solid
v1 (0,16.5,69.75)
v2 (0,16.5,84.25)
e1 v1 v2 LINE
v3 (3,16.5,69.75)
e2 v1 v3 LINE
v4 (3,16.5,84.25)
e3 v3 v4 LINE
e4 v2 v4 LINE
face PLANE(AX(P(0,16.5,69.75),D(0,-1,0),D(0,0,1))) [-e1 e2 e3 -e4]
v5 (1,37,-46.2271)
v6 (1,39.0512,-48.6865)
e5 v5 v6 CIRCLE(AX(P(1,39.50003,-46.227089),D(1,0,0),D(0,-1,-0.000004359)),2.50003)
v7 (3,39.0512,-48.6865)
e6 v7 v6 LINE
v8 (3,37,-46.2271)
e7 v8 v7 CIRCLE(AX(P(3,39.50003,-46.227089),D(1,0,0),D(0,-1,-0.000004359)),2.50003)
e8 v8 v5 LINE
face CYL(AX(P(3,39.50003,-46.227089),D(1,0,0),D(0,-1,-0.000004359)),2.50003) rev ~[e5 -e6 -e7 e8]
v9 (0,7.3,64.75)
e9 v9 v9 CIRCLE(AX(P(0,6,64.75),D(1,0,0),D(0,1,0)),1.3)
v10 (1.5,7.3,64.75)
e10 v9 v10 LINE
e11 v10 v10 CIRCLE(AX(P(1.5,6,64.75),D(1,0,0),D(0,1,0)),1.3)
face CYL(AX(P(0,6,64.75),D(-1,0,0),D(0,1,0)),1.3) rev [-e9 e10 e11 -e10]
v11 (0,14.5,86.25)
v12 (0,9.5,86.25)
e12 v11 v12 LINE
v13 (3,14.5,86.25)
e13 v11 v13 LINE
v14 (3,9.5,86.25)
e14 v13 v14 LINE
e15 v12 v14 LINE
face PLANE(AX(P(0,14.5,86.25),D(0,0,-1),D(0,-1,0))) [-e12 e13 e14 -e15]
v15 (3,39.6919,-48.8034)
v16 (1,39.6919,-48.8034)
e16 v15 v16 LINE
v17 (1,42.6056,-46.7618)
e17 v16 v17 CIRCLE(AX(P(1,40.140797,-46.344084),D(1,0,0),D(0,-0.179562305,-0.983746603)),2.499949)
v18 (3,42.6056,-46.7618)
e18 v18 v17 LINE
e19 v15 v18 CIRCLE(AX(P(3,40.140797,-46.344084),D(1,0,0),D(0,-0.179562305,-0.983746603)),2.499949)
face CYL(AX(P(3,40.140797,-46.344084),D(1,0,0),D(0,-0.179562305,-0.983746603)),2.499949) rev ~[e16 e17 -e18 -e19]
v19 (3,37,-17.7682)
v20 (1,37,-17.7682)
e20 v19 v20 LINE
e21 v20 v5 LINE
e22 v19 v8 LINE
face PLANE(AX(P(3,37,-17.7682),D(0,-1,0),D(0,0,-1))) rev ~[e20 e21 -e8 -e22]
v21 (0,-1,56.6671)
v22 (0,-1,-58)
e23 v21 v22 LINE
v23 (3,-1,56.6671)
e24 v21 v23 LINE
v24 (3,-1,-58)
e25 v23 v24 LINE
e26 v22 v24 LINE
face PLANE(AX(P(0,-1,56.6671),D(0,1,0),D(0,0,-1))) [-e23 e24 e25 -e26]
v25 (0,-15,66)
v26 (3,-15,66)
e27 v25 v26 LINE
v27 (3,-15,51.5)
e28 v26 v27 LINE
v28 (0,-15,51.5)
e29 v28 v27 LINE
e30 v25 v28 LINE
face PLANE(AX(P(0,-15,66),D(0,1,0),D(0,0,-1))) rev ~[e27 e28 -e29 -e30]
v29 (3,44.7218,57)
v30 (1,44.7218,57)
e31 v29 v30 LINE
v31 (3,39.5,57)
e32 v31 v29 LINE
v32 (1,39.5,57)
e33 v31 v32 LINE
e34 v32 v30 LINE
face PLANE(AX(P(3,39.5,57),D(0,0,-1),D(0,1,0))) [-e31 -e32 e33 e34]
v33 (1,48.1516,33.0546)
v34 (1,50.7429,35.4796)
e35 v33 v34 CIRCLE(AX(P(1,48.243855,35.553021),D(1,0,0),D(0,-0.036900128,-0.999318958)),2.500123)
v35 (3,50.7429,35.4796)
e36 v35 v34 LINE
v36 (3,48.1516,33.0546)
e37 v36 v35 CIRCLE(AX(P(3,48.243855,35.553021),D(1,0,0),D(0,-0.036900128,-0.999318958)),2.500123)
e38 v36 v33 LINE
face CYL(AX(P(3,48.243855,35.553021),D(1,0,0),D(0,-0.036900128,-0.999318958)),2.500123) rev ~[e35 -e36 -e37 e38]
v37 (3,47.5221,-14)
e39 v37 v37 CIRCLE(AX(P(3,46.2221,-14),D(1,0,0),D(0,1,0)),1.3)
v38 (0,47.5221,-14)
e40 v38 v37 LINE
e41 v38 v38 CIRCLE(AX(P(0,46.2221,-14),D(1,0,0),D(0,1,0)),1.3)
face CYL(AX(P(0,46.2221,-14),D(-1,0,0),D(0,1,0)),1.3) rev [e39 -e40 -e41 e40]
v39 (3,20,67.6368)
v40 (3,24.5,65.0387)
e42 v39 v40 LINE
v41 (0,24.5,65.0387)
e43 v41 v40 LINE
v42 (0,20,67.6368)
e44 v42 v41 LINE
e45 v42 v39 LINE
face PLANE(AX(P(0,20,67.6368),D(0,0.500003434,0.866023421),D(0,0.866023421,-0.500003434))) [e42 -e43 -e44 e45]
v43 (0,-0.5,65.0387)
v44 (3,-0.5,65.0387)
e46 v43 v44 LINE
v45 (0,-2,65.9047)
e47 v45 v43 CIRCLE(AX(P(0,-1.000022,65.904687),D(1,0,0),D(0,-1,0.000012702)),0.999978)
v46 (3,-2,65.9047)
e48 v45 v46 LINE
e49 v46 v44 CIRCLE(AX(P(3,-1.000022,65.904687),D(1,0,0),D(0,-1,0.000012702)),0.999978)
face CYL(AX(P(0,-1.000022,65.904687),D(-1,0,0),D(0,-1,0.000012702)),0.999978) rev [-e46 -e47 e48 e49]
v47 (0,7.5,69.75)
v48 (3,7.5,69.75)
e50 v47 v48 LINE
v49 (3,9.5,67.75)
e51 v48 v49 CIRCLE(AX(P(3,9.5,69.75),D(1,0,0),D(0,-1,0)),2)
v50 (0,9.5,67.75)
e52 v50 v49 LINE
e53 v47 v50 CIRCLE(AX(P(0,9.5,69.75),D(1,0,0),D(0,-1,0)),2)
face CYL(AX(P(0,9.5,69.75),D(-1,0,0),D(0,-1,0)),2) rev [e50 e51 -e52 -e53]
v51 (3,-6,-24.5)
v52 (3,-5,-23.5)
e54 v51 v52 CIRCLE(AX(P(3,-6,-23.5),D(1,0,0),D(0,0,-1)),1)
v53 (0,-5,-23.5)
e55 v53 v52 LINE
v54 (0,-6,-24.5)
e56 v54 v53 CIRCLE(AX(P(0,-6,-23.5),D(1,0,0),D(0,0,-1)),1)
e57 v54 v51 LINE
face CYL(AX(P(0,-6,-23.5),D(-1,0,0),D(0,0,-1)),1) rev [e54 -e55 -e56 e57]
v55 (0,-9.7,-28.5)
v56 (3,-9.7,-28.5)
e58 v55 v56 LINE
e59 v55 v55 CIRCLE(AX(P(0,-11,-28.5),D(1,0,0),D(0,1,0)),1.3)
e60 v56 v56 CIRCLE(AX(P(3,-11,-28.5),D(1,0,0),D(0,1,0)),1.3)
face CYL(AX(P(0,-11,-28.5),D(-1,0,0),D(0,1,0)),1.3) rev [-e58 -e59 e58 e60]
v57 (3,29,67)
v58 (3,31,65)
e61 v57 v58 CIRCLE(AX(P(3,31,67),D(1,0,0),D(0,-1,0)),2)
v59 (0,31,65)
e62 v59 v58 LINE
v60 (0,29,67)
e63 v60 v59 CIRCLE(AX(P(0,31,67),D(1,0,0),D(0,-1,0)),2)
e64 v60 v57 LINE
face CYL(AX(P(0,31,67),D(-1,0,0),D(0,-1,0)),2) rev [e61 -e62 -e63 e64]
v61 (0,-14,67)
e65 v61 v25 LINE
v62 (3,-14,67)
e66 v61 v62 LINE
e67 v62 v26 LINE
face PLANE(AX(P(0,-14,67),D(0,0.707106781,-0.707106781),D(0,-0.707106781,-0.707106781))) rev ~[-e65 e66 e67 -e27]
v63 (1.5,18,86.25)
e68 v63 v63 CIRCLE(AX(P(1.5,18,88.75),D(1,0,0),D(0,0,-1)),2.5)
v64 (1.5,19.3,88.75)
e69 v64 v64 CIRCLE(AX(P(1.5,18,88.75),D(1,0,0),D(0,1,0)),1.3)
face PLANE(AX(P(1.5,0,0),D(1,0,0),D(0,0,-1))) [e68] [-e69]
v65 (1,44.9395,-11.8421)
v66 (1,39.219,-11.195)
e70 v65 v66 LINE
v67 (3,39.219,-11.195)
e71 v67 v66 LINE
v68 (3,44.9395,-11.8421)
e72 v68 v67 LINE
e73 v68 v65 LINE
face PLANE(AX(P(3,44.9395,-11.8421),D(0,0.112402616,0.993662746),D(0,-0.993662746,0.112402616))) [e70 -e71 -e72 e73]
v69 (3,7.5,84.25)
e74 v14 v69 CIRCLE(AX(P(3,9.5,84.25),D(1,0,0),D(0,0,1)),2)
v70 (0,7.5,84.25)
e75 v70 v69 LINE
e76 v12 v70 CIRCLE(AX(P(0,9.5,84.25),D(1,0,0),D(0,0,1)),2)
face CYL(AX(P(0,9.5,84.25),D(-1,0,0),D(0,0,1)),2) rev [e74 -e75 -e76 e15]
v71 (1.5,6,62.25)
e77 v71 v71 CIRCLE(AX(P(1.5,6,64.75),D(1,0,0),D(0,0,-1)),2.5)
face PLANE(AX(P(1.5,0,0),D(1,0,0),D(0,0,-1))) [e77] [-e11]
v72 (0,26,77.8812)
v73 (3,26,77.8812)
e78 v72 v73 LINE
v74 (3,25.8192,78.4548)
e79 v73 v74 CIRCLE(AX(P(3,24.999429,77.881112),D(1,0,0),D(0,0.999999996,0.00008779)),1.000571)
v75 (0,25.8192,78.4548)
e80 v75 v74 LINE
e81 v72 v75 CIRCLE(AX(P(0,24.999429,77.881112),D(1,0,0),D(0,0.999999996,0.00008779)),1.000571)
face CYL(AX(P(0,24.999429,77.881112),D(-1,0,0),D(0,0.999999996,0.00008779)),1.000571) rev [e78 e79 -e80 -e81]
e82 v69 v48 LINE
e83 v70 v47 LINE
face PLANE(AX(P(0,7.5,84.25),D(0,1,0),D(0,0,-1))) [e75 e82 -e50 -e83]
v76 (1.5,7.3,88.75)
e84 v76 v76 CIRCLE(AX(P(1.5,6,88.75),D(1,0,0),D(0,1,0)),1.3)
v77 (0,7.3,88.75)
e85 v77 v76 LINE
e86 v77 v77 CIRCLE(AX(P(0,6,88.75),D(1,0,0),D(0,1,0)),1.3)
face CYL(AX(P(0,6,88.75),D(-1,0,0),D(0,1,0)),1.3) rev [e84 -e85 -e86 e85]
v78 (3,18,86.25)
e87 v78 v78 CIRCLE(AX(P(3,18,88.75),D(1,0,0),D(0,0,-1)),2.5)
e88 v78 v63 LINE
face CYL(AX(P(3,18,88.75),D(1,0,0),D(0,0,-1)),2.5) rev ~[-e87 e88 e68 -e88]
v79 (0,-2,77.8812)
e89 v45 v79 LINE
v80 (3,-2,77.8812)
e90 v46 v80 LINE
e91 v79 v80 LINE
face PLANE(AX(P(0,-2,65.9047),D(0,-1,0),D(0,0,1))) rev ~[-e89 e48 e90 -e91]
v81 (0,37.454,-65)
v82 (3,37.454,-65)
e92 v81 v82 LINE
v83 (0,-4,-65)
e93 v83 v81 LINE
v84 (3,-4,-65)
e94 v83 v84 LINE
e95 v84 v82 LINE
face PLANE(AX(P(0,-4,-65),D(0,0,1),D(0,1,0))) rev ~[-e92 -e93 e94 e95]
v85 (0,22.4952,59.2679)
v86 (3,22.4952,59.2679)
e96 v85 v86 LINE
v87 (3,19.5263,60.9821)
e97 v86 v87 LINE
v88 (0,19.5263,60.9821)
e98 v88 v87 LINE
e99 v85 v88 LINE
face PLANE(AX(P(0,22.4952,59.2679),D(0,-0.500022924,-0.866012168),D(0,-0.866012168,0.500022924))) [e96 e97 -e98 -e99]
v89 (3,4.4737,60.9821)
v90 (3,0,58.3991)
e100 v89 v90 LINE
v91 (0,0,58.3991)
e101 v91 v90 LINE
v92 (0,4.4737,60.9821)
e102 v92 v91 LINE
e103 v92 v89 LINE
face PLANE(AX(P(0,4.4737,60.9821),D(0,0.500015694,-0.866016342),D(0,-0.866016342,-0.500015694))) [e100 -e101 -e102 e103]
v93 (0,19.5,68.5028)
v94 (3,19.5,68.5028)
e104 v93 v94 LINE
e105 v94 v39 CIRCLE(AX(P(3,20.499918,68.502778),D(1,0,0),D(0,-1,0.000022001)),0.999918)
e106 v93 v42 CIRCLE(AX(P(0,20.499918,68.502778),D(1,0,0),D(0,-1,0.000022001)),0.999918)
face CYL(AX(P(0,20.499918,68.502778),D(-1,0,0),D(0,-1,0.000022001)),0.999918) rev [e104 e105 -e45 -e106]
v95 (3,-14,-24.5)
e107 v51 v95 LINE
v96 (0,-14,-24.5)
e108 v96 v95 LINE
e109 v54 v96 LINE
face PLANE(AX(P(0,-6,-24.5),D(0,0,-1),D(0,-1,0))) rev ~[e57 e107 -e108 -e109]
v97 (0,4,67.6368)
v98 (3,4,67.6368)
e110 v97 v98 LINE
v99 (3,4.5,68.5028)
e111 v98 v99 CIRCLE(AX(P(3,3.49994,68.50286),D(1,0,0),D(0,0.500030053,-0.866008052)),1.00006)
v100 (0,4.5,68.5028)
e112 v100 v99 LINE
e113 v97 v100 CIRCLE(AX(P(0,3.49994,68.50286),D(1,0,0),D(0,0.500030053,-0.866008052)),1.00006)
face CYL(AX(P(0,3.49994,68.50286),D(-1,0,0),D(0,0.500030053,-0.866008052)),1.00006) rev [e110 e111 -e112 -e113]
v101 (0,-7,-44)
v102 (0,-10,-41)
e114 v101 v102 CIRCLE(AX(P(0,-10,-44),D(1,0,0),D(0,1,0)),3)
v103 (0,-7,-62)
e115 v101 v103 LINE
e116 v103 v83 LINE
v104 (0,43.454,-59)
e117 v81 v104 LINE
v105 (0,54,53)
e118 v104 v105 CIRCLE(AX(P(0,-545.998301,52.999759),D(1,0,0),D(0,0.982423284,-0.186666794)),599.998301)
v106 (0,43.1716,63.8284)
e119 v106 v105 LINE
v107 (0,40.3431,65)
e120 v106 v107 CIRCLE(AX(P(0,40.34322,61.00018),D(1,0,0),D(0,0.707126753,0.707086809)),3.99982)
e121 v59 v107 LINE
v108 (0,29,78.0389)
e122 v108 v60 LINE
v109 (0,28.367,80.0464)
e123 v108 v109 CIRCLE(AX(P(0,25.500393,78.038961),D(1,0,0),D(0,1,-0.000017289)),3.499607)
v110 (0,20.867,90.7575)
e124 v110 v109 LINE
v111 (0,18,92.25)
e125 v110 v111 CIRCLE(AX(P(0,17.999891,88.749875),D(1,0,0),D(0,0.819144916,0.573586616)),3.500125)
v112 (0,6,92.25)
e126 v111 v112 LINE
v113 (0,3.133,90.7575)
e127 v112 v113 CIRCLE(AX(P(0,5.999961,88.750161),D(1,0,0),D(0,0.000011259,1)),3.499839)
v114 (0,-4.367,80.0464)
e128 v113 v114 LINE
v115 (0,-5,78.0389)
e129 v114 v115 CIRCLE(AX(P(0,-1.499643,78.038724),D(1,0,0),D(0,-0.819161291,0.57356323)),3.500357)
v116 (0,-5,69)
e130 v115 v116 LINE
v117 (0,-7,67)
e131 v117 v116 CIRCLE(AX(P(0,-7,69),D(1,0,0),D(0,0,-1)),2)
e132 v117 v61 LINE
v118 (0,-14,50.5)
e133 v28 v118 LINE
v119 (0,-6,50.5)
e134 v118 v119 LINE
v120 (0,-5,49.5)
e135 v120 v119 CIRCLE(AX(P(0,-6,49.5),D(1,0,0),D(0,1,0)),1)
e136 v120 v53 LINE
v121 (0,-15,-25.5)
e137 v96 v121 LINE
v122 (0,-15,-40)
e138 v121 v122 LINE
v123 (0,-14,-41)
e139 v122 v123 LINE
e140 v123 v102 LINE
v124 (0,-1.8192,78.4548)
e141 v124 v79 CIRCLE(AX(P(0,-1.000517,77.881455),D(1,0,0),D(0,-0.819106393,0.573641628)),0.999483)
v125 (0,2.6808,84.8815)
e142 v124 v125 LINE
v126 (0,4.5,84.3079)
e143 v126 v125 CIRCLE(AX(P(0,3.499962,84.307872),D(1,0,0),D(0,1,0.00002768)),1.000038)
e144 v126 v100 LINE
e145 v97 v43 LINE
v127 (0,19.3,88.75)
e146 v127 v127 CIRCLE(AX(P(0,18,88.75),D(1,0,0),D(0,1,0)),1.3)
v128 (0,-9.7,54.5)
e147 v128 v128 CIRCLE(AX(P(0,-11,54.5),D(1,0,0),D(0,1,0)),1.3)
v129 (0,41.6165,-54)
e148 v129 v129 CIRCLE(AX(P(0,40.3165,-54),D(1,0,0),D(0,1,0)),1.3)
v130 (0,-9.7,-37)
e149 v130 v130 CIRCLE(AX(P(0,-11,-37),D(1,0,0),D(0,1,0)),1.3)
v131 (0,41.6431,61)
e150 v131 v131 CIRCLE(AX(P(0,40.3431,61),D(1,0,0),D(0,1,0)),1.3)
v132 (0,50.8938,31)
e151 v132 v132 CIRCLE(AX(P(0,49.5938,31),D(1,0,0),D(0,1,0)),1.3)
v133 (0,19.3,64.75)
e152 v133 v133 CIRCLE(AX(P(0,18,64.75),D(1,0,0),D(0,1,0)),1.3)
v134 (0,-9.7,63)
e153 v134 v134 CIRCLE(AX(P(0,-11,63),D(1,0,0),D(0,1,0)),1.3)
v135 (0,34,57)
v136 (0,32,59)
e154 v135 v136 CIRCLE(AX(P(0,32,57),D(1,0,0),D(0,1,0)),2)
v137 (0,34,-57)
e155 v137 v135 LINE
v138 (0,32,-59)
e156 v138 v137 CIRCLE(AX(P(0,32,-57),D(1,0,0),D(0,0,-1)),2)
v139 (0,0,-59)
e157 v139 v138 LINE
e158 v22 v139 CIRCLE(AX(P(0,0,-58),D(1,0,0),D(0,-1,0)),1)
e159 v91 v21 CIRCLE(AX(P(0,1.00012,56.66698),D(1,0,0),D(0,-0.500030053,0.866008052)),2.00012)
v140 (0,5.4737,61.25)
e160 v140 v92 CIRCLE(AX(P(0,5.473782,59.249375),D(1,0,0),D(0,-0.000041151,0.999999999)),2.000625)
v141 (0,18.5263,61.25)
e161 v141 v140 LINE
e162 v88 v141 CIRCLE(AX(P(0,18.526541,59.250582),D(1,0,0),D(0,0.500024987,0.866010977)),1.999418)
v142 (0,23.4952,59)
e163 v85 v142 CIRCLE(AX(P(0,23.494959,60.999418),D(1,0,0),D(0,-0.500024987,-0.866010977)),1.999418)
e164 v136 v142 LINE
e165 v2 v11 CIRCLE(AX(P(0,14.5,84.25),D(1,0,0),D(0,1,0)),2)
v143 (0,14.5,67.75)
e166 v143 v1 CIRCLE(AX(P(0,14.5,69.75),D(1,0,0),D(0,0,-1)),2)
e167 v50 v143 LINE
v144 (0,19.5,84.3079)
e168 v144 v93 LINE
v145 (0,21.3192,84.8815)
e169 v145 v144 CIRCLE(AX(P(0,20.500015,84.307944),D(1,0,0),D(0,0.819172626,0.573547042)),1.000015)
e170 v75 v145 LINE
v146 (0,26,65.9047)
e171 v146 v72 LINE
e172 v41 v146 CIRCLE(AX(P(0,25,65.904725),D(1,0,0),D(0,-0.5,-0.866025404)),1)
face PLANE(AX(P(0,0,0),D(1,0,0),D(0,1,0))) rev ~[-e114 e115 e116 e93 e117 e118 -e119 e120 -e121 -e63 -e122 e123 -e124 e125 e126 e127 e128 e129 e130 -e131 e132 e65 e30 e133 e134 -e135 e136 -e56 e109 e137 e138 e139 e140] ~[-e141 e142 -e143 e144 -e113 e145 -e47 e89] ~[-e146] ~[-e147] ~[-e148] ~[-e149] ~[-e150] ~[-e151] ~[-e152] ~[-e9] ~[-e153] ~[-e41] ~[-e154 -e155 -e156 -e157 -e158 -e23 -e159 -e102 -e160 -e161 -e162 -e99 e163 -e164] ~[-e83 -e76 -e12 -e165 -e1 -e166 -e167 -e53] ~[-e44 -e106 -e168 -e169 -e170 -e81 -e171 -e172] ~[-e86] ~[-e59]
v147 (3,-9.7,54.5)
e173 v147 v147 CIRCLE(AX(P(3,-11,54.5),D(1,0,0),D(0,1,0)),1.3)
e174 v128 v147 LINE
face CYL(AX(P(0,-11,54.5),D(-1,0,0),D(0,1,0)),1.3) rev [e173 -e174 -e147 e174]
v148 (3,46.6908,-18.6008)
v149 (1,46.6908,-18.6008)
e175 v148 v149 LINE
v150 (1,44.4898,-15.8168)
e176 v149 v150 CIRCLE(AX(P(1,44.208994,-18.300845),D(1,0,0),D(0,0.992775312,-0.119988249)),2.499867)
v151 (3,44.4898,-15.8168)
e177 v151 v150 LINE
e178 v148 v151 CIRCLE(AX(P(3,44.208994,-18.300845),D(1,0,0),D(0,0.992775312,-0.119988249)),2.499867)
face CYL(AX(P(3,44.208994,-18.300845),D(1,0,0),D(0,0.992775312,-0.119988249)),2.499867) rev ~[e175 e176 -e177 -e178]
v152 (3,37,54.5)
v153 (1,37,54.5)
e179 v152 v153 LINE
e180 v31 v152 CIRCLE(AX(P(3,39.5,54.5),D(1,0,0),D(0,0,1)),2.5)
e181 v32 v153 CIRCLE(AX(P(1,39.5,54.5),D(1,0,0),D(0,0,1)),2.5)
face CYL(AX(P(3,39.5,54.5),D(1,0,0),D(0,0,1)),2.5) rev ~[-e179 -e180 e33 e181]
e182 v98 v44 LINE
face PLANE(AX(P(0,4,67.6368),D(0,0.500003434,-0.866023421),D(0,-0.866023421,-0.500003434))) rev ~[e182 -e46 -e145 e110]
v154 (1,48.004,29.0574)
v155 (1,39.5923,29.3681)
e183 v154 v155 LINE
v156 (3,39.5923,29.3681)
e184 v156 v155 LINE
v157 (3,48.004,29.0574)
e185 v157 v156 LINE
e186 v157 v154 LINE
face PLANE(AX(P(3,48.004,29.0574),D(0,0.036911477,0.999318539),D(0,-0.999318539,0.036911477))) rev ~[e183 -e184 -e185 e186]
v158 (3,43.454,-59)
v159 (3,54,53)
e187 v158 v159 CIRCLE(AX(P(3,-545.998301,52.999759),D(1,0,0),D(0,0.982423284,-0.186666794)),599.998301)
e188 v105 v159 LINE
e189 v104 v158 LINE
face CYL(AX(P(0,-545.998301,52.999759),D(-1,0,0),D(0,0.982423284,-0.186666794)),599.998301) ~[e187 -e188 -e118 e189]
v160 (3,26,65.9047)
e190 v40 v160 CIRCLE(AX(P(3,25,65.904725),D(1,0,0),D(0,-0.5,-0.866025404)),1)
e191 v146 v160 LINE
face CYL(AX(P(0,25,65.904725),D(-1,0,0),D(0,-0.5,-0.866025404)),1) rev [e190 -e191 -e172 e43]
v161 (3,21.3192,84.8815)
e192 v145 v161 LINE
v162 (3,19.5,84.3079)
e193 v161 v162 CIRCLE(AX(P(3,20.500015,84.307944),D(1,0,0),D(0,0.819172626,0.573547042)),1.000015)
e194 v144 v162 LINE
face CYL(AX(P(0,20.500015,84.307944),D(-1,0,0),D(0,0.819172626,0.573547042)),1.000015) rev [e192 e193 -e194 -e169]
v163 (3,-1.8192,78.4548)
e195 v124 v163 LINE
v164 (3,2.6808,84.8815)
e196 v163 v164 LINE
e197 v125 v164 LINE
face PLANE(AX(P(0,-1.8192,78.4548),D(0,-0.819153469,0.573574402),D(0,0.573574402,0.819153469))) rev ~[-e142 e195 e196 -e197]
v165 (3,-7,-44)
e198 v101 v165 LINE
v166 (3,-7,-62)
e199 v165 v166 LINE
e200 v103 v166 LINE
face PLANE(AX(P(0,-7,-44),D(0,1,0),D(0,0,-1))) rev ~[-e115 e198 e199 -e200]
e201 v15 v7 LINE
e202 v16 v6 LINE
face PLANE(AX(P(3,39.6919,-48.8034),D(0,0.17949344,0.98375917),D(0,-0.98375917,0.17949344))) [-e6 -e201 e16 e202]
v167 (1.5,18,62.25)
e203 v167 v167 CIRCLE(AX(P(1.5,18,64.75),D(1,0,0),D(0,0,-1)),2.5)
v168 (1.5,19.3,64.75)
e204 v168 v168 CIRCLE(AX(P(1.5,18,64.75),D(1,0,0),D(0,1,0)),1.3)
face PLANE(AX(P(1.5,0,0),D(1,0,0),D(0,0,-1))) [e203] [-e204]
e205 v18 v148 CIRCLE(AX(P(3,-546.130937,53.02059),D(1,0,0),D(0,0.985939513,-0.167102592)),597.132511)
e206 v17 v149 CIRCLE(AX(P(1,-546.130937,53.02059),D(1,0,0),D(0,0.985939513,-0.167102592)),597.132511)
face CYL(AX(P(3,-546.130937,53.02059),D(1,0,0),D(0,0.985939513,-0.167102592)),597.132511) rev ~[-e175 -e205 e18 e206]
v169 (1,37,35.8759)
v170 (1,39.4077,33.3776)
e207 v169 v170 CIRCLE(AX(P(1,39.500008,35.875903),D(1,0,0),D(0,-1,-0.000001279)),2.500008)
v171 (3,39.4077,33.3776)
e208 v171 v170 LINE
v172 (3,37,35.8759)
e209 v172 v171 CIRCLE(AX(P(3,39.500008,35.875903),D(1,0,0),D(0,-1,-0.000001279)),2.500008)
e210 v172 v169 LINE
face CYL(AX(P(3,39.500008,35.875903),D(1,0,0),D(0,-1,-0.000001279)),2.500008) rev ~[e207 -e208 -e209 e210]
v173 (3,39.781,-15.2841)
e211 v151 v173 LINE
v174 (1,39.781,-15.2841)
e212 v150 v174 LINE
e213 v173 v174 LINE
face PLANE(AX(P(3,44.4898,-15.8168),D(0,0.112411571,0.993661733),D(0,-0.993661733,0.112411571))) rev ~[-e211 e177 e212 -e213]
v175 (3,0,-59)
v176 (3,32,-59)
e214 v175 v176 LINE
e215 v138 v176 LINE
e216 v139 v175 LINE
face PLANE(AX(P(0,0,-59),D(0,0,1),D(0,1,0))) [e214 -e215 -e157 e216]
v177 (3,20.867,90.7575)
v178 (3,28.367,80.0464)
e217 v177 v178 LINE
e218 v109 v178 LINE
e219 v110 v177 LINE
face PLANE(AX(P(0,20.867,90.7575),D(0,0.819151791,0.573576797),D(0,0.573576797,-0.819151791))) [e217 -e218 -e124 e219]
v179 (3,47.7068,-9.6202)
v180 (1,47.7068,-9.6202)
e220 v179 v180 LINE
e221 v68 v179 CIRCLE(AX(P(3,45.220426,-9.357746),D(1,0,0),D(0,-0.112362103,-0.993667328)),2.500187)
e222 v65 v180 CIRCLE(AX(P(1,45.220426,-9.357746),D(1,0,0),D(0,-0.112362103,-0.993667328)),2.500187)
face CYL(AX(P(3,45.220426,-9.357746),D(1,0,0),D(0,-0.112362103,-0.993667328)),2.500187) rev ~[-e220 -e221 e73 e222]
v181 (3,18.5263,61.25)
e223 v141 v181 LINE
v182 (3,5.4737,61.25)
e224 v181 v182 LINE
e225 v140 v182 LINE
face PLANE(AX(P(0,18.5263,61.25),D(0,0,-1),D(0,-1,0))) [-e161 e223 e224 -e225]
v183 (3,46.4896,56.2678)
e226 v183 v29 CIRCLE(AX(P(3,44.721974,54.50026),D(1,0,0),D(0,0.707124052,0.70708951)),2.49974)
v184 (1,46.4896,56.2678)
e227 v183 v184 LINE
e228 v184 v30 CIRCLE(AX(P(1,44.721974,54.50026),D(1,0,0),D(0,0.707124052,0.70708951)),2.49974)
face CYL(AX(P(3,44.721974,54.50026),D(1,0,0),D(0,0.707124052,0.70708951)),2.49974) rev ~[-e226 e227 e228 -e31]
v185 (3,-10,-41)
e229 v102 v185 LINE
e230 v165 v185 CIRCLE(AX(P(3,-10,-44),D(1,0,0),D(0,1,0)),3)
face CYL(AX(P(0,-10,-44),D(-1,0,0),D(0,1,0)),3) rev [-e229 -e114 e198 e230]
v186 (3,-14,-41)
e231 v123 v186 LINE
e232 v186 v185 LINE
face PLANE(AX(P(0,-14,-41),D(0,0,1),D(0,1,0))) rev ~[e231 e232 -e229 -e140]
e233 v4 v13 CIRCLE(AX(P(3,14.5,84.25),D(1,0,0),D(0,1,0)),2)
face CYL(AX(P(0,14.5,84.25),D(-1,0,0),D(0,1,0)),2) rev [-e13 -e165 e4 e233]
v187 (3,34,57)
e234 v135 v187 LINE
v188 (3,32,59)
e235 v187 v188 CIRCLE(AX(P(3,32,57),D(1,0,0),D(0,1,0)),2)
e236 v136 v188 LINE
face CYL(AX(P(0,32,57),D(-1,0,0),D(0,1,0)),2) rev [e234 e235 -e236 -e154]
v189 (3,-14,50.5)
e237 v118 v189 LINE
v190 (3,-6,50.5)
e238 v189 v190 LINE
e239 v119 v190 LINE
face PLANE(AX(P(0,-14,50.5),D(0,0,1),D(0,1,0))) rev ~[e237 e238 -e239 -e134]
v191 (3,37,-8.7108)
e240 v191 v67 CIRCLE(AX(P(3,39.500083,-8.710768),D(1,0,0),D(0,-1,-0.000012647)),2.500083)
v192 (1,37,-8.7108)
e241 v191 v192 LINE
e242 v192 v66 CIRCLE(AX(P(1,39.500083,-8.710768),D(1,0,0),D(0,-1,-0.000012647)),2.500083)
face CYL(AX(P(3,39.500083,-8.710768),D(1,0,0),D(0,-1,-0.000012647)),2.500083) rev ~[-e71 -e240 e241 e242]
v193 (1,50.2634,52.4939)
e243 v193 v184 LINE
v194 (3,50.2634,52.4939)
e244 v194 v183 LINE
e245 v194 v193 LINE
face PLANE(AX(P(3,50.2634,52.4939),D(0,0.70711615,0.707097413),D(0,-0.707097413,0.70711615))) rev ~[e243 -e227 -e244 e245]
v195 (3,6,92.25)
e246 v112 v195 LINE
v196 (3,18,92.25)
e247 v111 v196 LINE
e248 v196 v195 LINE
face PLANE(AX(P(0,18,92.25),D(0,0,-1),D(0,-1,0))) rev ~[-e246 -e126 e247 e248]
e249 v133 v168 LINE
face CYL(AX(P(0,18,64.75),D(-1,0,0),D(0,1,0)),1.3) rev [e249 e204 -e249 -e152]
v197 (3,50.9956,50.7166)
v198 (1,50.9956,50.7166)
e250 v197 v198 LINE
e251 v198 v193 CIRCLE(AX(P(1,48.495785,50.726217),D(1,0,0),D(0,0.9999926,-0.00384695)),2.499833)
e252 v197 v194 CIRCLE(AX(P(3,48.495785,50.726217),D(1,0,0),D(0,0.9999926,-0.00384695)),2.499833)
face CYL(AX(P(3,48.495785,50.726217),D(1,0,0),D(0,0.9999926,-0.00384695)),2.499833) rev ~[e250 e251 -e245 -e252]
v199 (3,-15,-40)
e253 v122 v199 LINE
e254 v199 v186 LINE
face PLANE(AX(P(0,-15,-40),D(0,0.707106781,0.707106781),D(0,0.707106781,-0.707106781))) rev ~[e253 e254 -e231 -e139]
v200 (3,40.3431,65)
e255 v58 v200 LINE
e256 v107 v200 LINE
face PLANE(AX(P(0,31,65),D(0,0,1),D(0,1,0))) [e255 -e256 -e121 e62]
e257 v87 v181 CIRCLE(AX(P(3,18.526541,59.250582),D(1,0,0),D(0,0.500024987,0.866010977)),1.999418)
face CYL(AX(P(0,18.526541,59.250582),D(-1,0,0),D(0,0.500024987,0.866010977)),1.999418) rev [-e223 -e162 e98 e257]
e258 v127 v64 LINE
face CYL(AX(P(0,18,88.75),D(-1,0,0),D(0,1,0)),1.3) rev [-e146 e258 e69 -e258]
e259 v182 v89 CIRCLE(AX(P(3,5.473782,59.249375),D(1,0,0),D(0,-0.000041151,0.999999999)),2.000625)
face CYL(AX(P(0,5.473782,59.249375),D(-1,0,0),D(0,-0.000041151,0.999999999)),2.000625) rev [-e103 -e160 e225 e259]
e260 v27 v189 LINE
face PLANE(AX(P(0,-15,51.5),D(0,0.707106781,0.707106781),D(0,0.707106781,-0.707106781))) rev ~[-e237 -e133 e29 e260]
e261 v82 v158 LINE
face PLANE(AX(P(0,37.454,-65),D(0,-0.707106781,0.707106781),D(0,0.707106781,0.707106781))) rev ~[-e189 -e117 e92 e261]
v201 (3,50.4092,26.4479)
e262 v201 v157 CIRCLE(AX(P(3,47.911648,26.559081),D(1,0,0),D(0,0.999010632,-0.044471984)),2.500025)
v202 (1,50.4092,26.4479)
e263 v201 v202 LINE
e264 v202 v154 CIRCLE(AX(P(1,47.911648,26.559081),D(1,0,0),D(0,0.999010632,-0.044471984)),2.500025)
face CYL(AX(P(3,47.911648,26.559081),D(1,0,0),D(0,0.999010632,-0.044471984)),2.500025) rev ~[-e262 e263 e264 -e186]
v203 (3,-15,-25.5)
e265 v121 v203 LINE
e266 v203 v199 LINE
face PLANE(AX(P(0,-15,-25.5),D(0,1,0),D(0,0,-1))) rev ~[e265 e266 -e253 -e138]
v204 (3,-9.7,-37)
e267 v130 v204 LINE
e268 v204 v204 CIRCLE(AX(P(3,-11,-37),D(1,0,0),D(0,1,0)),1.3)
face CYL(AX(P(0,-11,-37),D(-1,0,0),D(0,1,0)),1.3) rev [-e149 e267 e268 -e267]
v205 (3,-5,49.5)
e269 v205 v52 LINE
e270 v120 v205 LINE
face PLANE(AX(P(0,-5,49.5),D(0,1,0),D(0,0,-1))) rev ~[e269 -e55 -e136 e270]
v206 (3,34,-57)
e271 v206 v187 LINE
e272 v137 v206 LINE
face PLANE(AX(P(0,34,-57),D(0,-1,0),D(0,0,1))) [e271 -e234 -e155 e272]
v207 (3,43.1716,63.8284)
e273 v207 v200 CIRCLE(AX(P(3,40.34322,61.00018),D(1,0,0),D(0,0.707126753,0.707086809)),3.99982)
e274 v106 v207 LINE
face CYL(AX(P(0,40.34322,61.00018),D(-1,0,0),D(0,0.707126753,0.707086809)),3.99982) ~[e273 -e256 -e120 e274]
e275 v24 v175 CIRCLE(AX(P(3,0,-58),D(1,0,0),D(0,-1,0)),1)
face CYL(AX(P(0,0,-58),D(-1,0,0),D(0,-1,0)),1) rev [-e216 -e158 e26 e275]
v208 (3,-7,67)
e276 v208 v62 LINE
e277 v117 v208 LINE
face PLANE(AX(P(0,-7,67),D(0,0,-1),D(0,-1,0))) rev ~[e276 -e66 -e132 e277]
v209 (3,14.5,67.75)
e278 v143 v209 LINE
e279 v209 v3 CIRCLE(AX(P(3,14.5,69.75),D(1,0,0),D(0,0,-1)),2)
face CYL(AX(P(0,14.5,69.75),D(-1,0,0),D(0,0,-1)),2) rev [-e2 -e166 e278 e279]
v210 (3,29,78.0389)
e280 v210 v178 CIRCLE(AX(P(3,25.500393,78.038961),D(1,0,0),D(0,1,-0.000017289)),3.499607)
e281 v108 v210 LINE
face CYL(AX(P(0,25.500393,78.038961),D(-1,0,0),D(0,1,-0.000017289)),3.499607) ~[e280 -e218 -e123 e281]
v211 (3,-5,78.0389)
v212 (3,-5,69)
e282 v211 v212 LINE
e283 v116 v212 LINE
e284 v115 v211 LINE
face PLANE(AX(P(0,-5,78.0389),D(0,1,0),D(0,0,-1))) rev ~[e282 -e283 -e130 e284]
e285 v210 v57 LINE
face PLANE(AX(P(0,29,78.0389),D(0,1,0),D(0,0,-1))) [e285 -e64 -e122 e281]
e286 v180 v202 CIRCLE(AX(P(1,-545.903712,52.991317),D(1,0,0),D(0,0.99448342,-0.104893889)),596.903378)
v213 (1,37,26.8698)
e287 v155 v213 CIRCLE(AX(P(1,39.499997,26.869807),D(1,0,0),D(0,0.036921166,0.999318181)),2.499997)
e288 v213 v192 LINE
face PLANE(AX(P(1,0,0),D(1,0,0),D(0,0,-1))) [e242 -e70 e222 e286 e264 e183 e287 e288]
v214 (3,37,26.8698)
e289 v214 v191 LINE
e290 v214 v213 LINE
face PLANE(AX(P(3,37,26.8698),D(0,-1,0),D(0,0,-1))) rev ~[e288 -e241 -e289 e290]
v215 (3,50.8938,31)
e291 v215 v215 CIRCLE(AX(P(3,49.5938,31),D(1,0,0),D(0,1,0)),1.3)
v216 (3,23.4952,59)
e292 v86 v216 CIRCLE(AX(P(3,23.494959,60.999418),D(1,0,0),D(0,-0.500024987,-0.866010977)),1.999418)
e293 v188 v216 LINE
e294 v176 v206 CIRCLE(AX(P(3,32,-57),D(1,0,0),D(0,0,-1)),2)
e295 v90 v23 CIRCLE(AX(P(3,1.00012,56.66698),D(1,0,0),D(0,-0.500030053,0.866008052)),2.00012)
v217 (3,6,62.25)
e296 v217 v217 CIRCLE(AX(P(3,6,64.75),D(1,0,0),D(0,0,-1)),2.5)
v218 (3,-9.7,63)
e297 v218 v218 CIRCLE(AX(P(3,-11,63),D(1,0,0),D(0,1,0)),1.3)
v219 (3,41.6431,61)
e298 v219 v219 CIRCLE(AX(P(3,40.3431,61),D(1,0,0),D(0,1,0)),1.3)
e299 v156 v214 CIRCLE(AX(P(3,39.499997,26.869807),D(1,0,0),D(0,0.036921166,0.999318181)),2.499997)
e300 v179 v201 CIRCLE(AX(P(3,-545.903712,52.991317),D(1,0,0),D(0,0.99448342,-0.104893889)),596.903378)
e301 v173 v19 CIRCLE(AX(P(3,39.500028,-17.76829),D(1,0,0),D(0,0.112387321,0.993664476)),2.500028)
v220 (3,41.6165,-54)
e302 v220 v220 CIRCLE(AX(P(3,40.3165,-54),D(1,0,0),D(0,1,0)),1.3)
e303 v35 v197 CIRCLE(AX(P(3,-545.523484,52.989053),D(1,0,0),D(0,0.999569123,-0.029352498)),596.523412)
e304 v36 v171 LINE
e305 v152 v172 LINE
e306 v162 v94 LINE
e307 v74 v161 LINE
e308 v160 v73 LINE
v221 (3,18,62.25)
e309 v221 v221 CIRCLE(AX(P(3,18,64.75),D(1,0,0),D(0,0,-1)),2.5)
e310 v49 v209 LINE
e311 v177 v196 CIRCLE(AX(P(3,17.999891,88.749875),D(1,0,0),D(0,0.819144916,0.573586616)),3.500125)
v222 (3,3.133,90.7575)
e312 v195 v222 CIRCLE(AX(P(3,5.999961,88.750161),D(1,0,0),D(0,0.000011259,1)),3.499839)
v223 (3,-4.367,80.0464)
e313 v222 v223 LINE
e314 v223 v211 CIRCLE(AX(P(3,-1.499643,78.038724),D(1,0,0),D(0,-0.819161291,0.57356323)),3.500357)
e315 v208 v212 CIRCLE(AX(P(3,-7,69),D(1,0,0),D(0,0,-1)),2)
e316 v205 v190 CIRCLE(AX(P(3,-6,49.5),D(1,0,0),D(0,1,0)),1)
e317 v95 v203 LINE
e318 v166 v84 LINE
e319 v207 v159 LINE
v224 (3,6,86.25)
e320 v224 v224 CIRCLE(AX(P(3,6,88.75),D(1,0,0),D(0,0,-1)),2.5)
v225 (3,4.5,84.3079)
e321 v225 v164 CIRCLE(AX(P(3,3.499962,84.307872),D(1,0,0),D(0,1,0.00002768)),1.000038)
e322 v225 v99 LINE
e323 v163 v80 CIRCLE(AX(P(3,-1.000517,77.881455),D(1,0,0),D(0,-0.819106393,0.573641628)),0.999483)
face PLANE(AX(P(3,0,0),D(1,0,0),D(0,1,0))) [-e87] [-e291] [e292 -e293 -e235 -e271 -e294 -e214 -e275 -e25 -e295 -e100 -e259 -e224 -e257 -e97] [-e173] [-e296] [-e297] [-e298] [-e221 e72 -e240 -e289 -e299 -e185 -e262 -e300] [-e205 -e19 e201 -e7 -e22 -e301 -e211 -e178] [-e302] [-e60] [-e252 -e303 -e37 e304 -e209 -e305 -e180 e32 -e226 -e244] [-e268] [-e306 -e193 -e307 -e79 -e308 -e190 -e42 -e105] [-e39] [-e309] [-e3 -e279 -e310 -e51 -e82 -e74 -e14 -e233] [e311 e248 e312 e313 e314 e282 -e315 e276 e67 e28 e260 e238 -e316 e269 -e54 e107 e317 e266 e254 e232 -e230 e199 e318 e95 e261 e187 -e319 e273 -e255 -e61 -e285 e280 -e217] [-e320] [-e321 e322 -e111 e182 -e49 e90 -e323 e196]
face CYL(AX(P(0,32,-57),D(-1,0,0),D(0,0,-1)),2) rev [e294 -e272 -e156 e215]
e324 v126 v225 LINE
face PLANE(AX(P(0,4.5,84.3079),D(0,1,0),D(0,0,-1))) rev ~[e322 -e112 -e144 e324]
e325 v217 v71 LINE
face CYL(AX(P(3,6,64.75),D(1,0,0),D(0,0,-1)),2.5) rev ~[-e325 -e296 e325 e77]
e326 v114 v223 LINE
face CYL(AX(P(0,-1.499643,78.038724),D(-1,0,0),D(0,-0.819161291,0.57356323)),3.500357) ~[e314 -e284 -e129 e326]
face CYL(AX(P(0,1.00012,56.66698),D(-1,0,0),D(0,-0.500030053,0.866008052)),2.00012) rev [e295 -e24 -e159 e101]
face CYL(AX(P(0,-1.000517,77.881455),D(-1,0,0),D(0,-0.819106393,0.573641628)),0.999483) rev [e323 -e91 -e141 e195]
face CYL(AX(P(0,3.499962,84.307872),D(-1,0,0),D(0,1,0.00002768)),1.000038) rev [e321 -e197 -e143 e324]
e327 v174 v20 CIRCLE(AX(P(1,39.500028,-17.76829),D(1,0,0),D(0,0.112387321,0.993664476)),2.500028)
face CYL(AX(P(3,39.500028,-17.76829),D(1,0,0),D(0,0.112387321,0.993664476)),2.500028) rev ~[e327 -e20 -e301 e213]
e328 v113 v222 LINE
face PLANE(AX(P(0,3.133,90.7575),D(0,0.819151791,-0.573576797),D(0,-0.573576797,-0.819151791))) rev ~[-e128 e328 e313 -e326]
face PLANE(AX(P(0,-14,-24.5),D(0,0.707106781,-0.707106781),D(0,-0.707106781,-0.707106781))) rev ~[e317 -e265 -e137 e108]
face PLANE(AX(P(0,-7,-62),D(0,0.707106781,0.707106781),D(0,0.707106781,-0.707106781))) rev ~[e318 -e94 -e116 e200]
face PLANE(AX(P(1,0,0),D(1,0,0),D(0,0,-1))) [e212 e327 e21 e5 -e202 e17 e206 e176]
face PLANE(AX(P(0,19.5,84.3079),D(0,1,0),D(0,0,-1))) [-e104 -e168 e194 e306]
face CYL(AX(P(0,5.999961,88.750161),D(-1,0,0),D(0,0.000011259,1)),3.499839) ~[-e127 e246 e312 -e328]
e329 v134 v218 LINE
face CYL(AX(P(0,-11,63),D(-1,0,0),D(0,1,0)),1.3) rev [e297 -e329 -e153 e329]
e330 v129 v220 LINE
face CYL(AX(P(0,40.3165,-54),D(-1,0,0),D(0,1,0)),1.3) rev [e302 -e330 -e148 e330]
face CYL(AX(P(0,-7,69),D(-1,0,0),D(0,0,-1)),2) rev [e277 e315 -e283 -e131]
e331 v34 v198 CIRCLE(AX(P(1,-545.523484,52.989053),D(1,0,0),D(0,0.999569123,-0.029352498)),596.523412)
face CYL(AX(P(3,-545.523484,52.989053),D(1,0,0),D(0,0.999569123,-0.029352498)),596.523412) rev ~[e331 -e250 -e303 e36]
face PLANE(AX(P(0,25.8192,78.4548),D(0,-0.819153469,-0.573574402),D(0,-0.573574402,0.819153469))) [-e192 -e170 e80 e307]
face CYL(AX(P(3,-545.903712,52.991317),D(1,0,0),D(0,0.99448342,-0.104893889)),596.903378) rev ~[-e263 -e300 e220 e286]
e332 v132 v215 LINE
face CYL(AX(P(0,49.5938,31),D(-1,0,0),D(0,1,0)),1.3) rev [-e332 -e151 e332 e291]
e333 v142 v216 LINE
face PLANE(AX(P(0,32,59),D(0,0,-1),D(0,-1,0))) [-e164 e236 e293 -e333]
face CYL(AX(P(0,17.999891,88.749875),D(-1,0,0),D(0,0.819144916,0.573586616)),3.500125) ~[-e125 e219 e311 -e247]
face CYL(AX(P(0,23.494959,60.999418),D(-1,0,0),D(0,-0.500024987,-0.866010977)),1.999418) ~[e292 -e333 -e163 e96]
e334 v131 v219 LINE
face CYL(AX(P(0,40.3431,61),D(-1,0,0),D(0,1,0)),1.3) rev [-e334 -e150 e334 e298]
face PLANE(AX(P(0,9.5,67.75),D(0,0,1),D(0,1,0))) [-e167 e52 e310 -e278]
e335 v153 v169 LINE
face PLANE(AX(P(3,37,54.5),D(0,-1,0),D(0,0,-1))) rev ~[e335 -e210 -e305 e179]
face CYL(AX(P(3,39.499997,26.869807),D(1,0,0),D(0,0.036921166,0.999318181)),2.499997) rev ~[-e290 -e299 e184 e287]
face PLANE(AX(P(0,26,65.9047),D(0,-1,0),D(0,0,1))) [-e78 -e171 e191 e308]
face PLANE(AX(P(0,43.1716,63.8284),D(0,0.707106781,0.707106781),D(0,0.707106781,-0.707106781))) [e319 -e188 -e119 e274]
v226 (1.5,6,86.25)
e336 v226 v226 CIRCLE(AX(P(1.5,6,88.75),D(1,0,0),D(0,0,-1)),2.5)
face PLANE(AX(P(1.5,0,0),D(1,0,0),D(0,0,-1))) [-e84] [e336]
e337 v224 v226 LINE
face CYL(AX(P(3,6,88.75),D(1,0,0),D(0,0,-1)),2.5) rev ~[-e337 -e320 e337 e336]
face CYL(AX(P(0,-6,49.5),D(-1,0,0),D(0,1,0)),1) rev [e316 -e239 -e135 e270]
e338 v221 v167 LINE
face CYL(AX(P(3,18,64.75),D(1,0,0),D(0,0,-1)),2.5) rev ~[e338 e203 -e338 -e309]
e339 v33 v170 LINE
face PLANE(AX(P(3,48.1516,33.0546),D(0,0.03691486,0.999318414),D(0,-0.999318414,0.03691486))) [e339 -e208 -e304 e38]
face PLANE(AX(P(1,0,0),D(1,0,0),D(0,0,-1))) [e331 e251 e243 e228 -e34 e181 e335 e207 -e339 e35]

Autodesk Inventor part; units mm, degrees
ref_plane "YZ Plane" through (0, 0, 0) normal (1, 0, 0) x (0, 1, 0)
ref_plane "XZ Plane" through (0, 0, 0) normal (0, 1, 0) x (-1, 0, 0)
ref_plane "XY Plane" through (0, 0, 0) normal (0, 0, 1) x (1, 0, 0)
sketch "スケッチ1" plane through (0, 0, 0) normal (1, 0, 0) x (0, 1, 0)
  line L0 (32, 59) -> (0.2256, 59) construction
  line L1 (-1, 56.6671) -> (-1, -58)
  line L2 (0, -59) -> (32, -59)
  line L3 (34, -57) -> (34, 57)
  line L4 (-7, 67) -> (-14, 67)
  line L5 (-15, 66) -> (-15, 51.5)
  line L6 (-14, 50.5) -> (-6, 50.5)
  line L7 (-5, 49.5) -> (-5, -23.5)
  line L8 (-6, -24.5) -> (-14, -24.5)
  line L9 (-15, -25.5) -> (-15, -40)
  line L10 (-14, -41) -> (-10, -41)
  line L11 (-4, -65) -> (37.454, -65)
  line L12 (18, 92.25) -> (6, 92.25)
  line L13 (0, 0) -> (34, 0) construction
  line L14 (-7, -62) -> (-4, -65)
  line L15 (31, 65) -> (40.3431, 65)
  circle A0 centre (-11, 63) radius 1.3
  circle A1 centre (-11, 54.5) radius 1.3
  circle A2 centre (-11, -28.5) radius 1.3
  circle A3 centre (-11, -37) radius 1.3
  line L16 (-11, 63) -> (-11, 54.5) construction
  line L17 (-11, -28.5) -> (-11, -37) construction
  circle A4 centre (18, 88.75) radius 1.05 construction
  circle A5 centre (6, 88.75) radius 1.05 construction
  circle A6 centre (6, 64.75) radius 1.05 construction
  circle A7 centre (18, 64.75) radius 1.05 construction
  circle A8 centre (18, 88.75) radius 1.3
  circle A9 centre (6, 88.75) radius 1.3
  circle A10 centre (6, 64.75) radius 1.3
  circle A11 centre (18, 64.75) radius 1.3
  arc A12 (20.867, 90.7575) -> (18, 92.25) centre (18, 88.75) ccw
  arc A13 (6, 92.25) -> (3.133, 90.7575) centre (6, 88.75) ccw
  line L18 (-7, -44) -> (-7, -62)
  arc A14 (-7, -44) -> (-10, -41) centre (-10, -44) ccw
  arc A15 (34, 57) -> (32, 59) centre (32, 57) ccw
  arc A16 (32, -59) -> (34, -57) centre (32, -57) ccw
  line L19 (43.1716, 63.8284) -> (54, 53)
  arc A17 (43.454, -59) -> (54, 53) centre (-546, 53) ccw
  line L20 (54, 80.46) -> (54, 17.89) construction
  arc A18 (-1, -58) -> (0, -59) centre (0, -58) ccw
  arc A19 (43.1716, 63.8284) -> (40.3431, 65) centre (40.3431, 61) ccw
  line L21 (20.867, 90.7575) -> (28.367, 80.0464)
  line L22 (29, 78.0389) -> (29, 67)
  line L23 (3.133, 90.7575) -> (-4.367, 80.0464)
  line L24 (-5, 78.0389) -> (-5, 69)
  line L25 (12, 92.25) -> (12, 64.3882) construction
  arc A20 (29, 78.0389) -> (28.367, 80.0464) centre (25.5, 78.0389) ccw
  arc A21 (-4.367, 80.0464) -> (-5, 78.0389) centre (-1.5, 78.0389) ccw
  arc A22 (29, 67) -> (31, 65) centre (31, 67) ccw
  arc A23 (-7, 67) -> (-5, 69) centre (-7, 69) ccw
  line L26 (14.5, 86.25) -> (9.5, 86.25)
  line L27 (7.5, 84.25) -> (7.5, 69.75)
  line L28 (9.5, 67.75) -> (14.5, 67.75)
  line L29 (16.5, 69.75) -> (16.5, 84.25)
  arc A24 (16.5, 84.25) -> (14.5, 86.25) centre (14.5, 84.25) ccw
  arc A25 (14.5, 67.75) -> (16.5, 69.75) centre (14.5, 69.75) ccw
  arc A26 (7.5, 69.75) -> (9.5, 67.75) centre (9.5, 69.75) ccw
  arc A27 (9.5, 86.25) -> (7.5, 84.25) centre (9.5, 84.25) ccw
  line L30 (19.5, 84.3079) -> (19.5, 68.5028)
  line L31 (20, 67.6368) -> (24.5, 65.0387)
  line L32 (26, 65.9047) -> (26, 77.8812)
  line L33 (25.8192, 78.4548) -> (21.3192, 84.8815)
  arc A28 (24.5, 65.0387) -> (26, 65.9047) centre (25, 65.9047) ccw
  arc A29 (19.5, 68.5028) -> (20, 67.6368) centre (20.5, 68.5028) ccw
  arc A30 (21.3192, 84.8815) -> (19.5, 84.3079) centre (20.5, 84.3079) ccw
  arc A31 (26, 77.8812) -> (25.8192, 78.4548) centre (25, 77.8812) ccw
  line L34 (4.5, 84.3079) -> (4.5, 68.5028)
  line L35 (4, 67.6368) -> (-0.5, 65.0387)
  line L36 (-2, 65.9047) -> (-2, 77.8812)
  line L37 (-1.8192, 78.4548) -> (2.6808, 84.8815)
  arc A32 (-2, 65.9047) -> (-0.5, 65.0387) centre (-1, 65.9047) ccw
  arc A33 (4, 67.6368) -> (4.5, 68.5028) centre (3.5, 68.5028) ccw
  arc A34 (4.5, 84.3079) -> (2.6808, 84.8815) centre (3.5, 84.3079) ccw
  arc A35 (-1.8192, 78.4548) -> (-2, 77.8812) centre (-1, 77.8812) ccw
  arc A36 (-5, 49.5) -> (-6, 50.5) centre (-6, 49.5) ccw
  arc A37 (-6, -24.5) -> (-5, -23.5) centre (-6, -23.5) ccw
  line L38 (-14, 67) -> (-15, 66)
  line L39 (-15, 51.5) -> (-14, 50.5)
  line L40 (-14, -24.5) -> (-15, -25.5)
  line L41 (-15, -40) -> (-14, -41)
  circle A38 centre (40.3431, 61) radius 1.3
  line L42 (54, 53) -> (-546, 53) construction
  line L43 (37.454, -65) -> (43.454, -59)
  arc A39 (39.0418, -60.7632) -> (49.9964, 55.0735) centre (-546, 53) ccw construction
  circle A40 centre (49.5938, 31) radius 1.3
  circle A41 centre (46.2221, -14) radius 1.3
  circle A42 centre (40.3165, -54) radius 1.3
  line L44 (22.4952, 59.2679) -> (19.5263, 60.9821)
  line L45 (18.5263, 61.25) -> (5.4737, 61.25)
  line L46 (4.4737, 60.9821) -> (0, 58.3991)
  line L47 (32, 59) -> (23.4952, 59)
  arc A43 (22.4952, 59.2679) -> (23.4952, 59) centre (23.4952, 61) ccw
  arc A44 (19.5263, 60.9821) -> (18.5263, 61.25) centre (18.5263, 59.25) ccw
  arc A45 (5.4737, 61.25) -> (4.4737, 60.9821) centre (5.4737, 59.25) ccw
  arc A46 (0, 58.3991) -> (-1, 56.6671) centre (1, 56.6671) ccw
  point P0 (34, 59)
  point P1 (-1, -59)
  point P2 (-1, 59)
  point P3 (34, -59)
  point P4 (-23.0245, 67)
  point P5 (-15, 67)
  point P6 (-15, 50.5)
  point P7 (-5, 50.5)
  point P8 (-5, -24.5)
  point P9 (-15, -24.5)
  point P10 (-15, -41)
  point P11 (-5, -41)
  point P12 (2.5, 68.5585)
  point P13 (42, 65)
  point P14 (24.5, 65)
  point P15 (-13.5, 67)
  point P16 (-1, 57.9118)
  point P17 (-1.5, 78.0389)
  point P18 (22.9593, 59)
  dimension "d2" = 118
  dimension "d4" = 108
  dimension "d5" = 16.5
  dimension "d6" = 16.5
  dimension "d7" = 4
  dimension "d8" = 2.6
  dimension "d10" = 4
  dimension "d11" = 4
  dimension "d12" = 4
  dimension "d13" = 4
  dimension "d14" = 4
  dimension "d15" = 4
  dimension "d16" = 10
  dimension "d17" = 2.6
  dimension "d18" = 3.5
  dimension "d20" = 35
  dimension "d21" = 3
  dimension "d22" = 6
  dimension "d24" = 2
  dimension "d26" = 45
  dimension "d27" = 600
  dimension "d28" = 20
  dimension "d29" = 6
  dimension "d30" = 45
  dimension "d32" = 3
  dimension "d33" = 1
  dimension "d36" = 4
  dimension "d37" = 35
  dimension "d38" = 35
  dimension "d39" = 34
  dimension "d40" = 3.5
  dimension "d41" = 2
  dimension "d42" = 6
  dimension "d43" = 3
  dimension "d44" = 9
  dimension "d45" = 2
  dimension "d46" = 1
  dimension "d47" = 3
  dimension "d48" = 3
  dimension "d49" = 3
  dimension "d50" = 3.5
  dimension "d51" = 1
  dimension "d52" = 1
  dimension "d53" = 45
  dimension "d54" = 1
  dimension "d55" = 45
  dimension "d56" = 1
  dimension "d57" = 45
  dimension "d58" = 1
  dimension "d59" = 45
  dimension "d60" = 45
  dimension "d61" = 6
  dimension "d62" = 4
  dimension "d63" = 30
  dimension "d64" = 45
  dimension "d65" = 40
  dimension "d69" = 120
  dimension "d70" = 6
  dimension "d71" = 6.5
  dimension "d72" = 6
  dimension "d73" = 6
  dimension "d74" = 2
  dimension "d93" = 12
  dimension "d95" = 11
extrude "押し出し1" add sketch "スケッチ1" along normal blind 3
sketch "スケッチ2" plane through (3, 0, 0) normal (1, 0, 0) x (0, 0, -1)
  circle A0 centre (-88.75, 18) radius 1.3 projected
  circle A1 centre (-88.75, 18) radius 2.5
  circle A2 centre (-88.75, 6) radius 1.3 projected
  circle A3 centre (-88.75, 6) radius 2.5
  circle A4 centre (-64.75, 6) radius 1.3 projected
  circle A5 centre (-64.75, 6) radius 2.5
  circle A6 centre (-64.75, 18) radius 1.3 projected
  circle A7 centre (-64.75, 18) radius 2.5
  point P0 (0, 0)
  dimension "d66" = 5
extrude "押し出し2" cut sketch "スケッチ2" against normal blind 1.5
sketch "スケッチ3" plane through (3, 0, 0) normal (1, 0, 0) x (0, 0, -1)
  circle A0 centre (-31, 49.5938) radius 1.3 construction
  line L0 (-31, 49.5938) -> (-31.9952, 22.6513) construction
  circle A1 centre (14, 46.2221) radius 1.3 construction
  line L1 (14, 46.2221) -> (11.2386, 21.8138) construction
  arc A2 (11.2386, 21.8138) -> (11.2386, 21.8138) centre (23.9128, 20.3799) ccw
  line L2 (-53, 54) -> (-63.8284, 43.1716) construction
  arc A3 (59, 43.454) -> (-53, 54) centre (-53, -546) ccw construction
  line L3 (-57, 34) -> (57, 34) construction
  line L4 (-52.4939, 50.2634) -> (-56.2678, 46.4896)
  line L5 (-33.0546, 48.1516) -> (-33.3776, 39.4077)
  line L6 (-29.0574, 48.004) -> (-29.3681, 39.5923)
  line L7 (-57, 39.5) -> (-57, 44.7218)
  line L8 (11.8421, 44.9395) -> (11.195, 39.219)
  line L9 (15.8168, 44.4898) -> (15.2841, 39.781)
  circle A4 centre (54, 40.3165) radius 1.3 construction
  line L10 (54, 40.3165) -> (51.075, 24.2885) construction
  line L11 (48.8034, 39.6919) -> (48.6865, 39.0512)
  line L12 (-54.5, 37) -> (-35.8759, 37)
  line L13 (-26.8698, 37) -> (8.7108, 37)
  line L14 (17.7682, 37) -> (46.2271, 37)
  arc A5 (-35.4796, 50.7429) -> (-50.7166, 50.9956) centre (-53, -546) ccw
  arc A6 (-50.7166, 50.9956) -> (-52.4939, 50.2634) centre (-50.7262, 48.4957) ccw
  arc A7 (-33.0546, 48.1516) -> (-35.4796, 50.7429) centre (-35.5529, 48.2439) ccw
  arc A8 (-35.8759, 37) -> (-33.3776, 39.4077) centre (-35.8759, 39.5) ccw
  arc A9 (-57, 39.5) -> (-54.5, 37) centre (-54.5, 39.5) ccw
  arc A10 (-56.2678, 46.4896) -> (-57, 44.7218) centre (-54.5, 44.7218) ccw
  arc A11 (9.6202, 47.7068) -> (-26.4479, 50.4092) centre (-53, -546) ccw
  arc A12 (-26.4479, 50.4092) -> (-29.0574, 48.004) centre (-26.5591, 47.9117) ccw
  arc A13 (11.8421, 44.9395) -> (9.6202, 47.7068) centre (9.358, 45.2205) ccw
  arc A14 (8.7108, 37) -> (11.195, 39.219) centre (8.7108, 39.5) ccw
  arc A15 (-29.3681, 39.5923) -> (-26.8698, 37) centre (-26.8698, 39.5) ccw
  arc A16 (46.7618, 42.6056) -> (18.6008, 46.6908) centre (-53, -546) ccw
  arc A17 (18.6008, 46.6908) -> (15.8168, 44.4898) centre (18.3009, 44.2088) ccw
  arc A18 (48.8034, 39.6919) -> (46.7618, 42.6056) centre (46.3441, 40.1408) ccw
  arc A19 (46.2271, 37) -> (48.6865, 39.0512) centre (46.2271, 39.5) ccw
  arc A20 (15.2841, 39.781) -> (17.7682, 37) centre (17.7682, 39.5) ccw
  circle A21 centre (-61, 40.3431) radius 1.3 construction
  point P0 (0, 0)
  point P1 (-33.5774, 34)
  point P2 (-29.5746, 34)
  point P3 (10.6045, 34)
  point P4 (14.63, 34)
  point P5 (49.257, 42.1773)
  dimension "d76" = 3
  dimension "d78" = 2
  dimension "d79" = 2
  dimension "d80" = 2
  dimension "d81" = 2
  dimension "d82" = 2.5
  dimension "d83" = 3
  dimension "d84" = 2.5
  dimension "d85" = 3
  dimension "d86" = 2.5
  dimension "d87" = 3
  dimension "d88" = 3
  dimension "d89" = 4
  dimension "d90" = 5
extrude "押し出し3" cut sketch "スケッチ3" against normal blind 2 contours A6 A5 A7 L5 A8 L12 A9 L7 A10 L4 | A12 A11 A13 L8 A14 L13 A15 L6 | A17 A16 A18 L11 A19 L14 A20 L9
properties part number "VerticalFrame"
